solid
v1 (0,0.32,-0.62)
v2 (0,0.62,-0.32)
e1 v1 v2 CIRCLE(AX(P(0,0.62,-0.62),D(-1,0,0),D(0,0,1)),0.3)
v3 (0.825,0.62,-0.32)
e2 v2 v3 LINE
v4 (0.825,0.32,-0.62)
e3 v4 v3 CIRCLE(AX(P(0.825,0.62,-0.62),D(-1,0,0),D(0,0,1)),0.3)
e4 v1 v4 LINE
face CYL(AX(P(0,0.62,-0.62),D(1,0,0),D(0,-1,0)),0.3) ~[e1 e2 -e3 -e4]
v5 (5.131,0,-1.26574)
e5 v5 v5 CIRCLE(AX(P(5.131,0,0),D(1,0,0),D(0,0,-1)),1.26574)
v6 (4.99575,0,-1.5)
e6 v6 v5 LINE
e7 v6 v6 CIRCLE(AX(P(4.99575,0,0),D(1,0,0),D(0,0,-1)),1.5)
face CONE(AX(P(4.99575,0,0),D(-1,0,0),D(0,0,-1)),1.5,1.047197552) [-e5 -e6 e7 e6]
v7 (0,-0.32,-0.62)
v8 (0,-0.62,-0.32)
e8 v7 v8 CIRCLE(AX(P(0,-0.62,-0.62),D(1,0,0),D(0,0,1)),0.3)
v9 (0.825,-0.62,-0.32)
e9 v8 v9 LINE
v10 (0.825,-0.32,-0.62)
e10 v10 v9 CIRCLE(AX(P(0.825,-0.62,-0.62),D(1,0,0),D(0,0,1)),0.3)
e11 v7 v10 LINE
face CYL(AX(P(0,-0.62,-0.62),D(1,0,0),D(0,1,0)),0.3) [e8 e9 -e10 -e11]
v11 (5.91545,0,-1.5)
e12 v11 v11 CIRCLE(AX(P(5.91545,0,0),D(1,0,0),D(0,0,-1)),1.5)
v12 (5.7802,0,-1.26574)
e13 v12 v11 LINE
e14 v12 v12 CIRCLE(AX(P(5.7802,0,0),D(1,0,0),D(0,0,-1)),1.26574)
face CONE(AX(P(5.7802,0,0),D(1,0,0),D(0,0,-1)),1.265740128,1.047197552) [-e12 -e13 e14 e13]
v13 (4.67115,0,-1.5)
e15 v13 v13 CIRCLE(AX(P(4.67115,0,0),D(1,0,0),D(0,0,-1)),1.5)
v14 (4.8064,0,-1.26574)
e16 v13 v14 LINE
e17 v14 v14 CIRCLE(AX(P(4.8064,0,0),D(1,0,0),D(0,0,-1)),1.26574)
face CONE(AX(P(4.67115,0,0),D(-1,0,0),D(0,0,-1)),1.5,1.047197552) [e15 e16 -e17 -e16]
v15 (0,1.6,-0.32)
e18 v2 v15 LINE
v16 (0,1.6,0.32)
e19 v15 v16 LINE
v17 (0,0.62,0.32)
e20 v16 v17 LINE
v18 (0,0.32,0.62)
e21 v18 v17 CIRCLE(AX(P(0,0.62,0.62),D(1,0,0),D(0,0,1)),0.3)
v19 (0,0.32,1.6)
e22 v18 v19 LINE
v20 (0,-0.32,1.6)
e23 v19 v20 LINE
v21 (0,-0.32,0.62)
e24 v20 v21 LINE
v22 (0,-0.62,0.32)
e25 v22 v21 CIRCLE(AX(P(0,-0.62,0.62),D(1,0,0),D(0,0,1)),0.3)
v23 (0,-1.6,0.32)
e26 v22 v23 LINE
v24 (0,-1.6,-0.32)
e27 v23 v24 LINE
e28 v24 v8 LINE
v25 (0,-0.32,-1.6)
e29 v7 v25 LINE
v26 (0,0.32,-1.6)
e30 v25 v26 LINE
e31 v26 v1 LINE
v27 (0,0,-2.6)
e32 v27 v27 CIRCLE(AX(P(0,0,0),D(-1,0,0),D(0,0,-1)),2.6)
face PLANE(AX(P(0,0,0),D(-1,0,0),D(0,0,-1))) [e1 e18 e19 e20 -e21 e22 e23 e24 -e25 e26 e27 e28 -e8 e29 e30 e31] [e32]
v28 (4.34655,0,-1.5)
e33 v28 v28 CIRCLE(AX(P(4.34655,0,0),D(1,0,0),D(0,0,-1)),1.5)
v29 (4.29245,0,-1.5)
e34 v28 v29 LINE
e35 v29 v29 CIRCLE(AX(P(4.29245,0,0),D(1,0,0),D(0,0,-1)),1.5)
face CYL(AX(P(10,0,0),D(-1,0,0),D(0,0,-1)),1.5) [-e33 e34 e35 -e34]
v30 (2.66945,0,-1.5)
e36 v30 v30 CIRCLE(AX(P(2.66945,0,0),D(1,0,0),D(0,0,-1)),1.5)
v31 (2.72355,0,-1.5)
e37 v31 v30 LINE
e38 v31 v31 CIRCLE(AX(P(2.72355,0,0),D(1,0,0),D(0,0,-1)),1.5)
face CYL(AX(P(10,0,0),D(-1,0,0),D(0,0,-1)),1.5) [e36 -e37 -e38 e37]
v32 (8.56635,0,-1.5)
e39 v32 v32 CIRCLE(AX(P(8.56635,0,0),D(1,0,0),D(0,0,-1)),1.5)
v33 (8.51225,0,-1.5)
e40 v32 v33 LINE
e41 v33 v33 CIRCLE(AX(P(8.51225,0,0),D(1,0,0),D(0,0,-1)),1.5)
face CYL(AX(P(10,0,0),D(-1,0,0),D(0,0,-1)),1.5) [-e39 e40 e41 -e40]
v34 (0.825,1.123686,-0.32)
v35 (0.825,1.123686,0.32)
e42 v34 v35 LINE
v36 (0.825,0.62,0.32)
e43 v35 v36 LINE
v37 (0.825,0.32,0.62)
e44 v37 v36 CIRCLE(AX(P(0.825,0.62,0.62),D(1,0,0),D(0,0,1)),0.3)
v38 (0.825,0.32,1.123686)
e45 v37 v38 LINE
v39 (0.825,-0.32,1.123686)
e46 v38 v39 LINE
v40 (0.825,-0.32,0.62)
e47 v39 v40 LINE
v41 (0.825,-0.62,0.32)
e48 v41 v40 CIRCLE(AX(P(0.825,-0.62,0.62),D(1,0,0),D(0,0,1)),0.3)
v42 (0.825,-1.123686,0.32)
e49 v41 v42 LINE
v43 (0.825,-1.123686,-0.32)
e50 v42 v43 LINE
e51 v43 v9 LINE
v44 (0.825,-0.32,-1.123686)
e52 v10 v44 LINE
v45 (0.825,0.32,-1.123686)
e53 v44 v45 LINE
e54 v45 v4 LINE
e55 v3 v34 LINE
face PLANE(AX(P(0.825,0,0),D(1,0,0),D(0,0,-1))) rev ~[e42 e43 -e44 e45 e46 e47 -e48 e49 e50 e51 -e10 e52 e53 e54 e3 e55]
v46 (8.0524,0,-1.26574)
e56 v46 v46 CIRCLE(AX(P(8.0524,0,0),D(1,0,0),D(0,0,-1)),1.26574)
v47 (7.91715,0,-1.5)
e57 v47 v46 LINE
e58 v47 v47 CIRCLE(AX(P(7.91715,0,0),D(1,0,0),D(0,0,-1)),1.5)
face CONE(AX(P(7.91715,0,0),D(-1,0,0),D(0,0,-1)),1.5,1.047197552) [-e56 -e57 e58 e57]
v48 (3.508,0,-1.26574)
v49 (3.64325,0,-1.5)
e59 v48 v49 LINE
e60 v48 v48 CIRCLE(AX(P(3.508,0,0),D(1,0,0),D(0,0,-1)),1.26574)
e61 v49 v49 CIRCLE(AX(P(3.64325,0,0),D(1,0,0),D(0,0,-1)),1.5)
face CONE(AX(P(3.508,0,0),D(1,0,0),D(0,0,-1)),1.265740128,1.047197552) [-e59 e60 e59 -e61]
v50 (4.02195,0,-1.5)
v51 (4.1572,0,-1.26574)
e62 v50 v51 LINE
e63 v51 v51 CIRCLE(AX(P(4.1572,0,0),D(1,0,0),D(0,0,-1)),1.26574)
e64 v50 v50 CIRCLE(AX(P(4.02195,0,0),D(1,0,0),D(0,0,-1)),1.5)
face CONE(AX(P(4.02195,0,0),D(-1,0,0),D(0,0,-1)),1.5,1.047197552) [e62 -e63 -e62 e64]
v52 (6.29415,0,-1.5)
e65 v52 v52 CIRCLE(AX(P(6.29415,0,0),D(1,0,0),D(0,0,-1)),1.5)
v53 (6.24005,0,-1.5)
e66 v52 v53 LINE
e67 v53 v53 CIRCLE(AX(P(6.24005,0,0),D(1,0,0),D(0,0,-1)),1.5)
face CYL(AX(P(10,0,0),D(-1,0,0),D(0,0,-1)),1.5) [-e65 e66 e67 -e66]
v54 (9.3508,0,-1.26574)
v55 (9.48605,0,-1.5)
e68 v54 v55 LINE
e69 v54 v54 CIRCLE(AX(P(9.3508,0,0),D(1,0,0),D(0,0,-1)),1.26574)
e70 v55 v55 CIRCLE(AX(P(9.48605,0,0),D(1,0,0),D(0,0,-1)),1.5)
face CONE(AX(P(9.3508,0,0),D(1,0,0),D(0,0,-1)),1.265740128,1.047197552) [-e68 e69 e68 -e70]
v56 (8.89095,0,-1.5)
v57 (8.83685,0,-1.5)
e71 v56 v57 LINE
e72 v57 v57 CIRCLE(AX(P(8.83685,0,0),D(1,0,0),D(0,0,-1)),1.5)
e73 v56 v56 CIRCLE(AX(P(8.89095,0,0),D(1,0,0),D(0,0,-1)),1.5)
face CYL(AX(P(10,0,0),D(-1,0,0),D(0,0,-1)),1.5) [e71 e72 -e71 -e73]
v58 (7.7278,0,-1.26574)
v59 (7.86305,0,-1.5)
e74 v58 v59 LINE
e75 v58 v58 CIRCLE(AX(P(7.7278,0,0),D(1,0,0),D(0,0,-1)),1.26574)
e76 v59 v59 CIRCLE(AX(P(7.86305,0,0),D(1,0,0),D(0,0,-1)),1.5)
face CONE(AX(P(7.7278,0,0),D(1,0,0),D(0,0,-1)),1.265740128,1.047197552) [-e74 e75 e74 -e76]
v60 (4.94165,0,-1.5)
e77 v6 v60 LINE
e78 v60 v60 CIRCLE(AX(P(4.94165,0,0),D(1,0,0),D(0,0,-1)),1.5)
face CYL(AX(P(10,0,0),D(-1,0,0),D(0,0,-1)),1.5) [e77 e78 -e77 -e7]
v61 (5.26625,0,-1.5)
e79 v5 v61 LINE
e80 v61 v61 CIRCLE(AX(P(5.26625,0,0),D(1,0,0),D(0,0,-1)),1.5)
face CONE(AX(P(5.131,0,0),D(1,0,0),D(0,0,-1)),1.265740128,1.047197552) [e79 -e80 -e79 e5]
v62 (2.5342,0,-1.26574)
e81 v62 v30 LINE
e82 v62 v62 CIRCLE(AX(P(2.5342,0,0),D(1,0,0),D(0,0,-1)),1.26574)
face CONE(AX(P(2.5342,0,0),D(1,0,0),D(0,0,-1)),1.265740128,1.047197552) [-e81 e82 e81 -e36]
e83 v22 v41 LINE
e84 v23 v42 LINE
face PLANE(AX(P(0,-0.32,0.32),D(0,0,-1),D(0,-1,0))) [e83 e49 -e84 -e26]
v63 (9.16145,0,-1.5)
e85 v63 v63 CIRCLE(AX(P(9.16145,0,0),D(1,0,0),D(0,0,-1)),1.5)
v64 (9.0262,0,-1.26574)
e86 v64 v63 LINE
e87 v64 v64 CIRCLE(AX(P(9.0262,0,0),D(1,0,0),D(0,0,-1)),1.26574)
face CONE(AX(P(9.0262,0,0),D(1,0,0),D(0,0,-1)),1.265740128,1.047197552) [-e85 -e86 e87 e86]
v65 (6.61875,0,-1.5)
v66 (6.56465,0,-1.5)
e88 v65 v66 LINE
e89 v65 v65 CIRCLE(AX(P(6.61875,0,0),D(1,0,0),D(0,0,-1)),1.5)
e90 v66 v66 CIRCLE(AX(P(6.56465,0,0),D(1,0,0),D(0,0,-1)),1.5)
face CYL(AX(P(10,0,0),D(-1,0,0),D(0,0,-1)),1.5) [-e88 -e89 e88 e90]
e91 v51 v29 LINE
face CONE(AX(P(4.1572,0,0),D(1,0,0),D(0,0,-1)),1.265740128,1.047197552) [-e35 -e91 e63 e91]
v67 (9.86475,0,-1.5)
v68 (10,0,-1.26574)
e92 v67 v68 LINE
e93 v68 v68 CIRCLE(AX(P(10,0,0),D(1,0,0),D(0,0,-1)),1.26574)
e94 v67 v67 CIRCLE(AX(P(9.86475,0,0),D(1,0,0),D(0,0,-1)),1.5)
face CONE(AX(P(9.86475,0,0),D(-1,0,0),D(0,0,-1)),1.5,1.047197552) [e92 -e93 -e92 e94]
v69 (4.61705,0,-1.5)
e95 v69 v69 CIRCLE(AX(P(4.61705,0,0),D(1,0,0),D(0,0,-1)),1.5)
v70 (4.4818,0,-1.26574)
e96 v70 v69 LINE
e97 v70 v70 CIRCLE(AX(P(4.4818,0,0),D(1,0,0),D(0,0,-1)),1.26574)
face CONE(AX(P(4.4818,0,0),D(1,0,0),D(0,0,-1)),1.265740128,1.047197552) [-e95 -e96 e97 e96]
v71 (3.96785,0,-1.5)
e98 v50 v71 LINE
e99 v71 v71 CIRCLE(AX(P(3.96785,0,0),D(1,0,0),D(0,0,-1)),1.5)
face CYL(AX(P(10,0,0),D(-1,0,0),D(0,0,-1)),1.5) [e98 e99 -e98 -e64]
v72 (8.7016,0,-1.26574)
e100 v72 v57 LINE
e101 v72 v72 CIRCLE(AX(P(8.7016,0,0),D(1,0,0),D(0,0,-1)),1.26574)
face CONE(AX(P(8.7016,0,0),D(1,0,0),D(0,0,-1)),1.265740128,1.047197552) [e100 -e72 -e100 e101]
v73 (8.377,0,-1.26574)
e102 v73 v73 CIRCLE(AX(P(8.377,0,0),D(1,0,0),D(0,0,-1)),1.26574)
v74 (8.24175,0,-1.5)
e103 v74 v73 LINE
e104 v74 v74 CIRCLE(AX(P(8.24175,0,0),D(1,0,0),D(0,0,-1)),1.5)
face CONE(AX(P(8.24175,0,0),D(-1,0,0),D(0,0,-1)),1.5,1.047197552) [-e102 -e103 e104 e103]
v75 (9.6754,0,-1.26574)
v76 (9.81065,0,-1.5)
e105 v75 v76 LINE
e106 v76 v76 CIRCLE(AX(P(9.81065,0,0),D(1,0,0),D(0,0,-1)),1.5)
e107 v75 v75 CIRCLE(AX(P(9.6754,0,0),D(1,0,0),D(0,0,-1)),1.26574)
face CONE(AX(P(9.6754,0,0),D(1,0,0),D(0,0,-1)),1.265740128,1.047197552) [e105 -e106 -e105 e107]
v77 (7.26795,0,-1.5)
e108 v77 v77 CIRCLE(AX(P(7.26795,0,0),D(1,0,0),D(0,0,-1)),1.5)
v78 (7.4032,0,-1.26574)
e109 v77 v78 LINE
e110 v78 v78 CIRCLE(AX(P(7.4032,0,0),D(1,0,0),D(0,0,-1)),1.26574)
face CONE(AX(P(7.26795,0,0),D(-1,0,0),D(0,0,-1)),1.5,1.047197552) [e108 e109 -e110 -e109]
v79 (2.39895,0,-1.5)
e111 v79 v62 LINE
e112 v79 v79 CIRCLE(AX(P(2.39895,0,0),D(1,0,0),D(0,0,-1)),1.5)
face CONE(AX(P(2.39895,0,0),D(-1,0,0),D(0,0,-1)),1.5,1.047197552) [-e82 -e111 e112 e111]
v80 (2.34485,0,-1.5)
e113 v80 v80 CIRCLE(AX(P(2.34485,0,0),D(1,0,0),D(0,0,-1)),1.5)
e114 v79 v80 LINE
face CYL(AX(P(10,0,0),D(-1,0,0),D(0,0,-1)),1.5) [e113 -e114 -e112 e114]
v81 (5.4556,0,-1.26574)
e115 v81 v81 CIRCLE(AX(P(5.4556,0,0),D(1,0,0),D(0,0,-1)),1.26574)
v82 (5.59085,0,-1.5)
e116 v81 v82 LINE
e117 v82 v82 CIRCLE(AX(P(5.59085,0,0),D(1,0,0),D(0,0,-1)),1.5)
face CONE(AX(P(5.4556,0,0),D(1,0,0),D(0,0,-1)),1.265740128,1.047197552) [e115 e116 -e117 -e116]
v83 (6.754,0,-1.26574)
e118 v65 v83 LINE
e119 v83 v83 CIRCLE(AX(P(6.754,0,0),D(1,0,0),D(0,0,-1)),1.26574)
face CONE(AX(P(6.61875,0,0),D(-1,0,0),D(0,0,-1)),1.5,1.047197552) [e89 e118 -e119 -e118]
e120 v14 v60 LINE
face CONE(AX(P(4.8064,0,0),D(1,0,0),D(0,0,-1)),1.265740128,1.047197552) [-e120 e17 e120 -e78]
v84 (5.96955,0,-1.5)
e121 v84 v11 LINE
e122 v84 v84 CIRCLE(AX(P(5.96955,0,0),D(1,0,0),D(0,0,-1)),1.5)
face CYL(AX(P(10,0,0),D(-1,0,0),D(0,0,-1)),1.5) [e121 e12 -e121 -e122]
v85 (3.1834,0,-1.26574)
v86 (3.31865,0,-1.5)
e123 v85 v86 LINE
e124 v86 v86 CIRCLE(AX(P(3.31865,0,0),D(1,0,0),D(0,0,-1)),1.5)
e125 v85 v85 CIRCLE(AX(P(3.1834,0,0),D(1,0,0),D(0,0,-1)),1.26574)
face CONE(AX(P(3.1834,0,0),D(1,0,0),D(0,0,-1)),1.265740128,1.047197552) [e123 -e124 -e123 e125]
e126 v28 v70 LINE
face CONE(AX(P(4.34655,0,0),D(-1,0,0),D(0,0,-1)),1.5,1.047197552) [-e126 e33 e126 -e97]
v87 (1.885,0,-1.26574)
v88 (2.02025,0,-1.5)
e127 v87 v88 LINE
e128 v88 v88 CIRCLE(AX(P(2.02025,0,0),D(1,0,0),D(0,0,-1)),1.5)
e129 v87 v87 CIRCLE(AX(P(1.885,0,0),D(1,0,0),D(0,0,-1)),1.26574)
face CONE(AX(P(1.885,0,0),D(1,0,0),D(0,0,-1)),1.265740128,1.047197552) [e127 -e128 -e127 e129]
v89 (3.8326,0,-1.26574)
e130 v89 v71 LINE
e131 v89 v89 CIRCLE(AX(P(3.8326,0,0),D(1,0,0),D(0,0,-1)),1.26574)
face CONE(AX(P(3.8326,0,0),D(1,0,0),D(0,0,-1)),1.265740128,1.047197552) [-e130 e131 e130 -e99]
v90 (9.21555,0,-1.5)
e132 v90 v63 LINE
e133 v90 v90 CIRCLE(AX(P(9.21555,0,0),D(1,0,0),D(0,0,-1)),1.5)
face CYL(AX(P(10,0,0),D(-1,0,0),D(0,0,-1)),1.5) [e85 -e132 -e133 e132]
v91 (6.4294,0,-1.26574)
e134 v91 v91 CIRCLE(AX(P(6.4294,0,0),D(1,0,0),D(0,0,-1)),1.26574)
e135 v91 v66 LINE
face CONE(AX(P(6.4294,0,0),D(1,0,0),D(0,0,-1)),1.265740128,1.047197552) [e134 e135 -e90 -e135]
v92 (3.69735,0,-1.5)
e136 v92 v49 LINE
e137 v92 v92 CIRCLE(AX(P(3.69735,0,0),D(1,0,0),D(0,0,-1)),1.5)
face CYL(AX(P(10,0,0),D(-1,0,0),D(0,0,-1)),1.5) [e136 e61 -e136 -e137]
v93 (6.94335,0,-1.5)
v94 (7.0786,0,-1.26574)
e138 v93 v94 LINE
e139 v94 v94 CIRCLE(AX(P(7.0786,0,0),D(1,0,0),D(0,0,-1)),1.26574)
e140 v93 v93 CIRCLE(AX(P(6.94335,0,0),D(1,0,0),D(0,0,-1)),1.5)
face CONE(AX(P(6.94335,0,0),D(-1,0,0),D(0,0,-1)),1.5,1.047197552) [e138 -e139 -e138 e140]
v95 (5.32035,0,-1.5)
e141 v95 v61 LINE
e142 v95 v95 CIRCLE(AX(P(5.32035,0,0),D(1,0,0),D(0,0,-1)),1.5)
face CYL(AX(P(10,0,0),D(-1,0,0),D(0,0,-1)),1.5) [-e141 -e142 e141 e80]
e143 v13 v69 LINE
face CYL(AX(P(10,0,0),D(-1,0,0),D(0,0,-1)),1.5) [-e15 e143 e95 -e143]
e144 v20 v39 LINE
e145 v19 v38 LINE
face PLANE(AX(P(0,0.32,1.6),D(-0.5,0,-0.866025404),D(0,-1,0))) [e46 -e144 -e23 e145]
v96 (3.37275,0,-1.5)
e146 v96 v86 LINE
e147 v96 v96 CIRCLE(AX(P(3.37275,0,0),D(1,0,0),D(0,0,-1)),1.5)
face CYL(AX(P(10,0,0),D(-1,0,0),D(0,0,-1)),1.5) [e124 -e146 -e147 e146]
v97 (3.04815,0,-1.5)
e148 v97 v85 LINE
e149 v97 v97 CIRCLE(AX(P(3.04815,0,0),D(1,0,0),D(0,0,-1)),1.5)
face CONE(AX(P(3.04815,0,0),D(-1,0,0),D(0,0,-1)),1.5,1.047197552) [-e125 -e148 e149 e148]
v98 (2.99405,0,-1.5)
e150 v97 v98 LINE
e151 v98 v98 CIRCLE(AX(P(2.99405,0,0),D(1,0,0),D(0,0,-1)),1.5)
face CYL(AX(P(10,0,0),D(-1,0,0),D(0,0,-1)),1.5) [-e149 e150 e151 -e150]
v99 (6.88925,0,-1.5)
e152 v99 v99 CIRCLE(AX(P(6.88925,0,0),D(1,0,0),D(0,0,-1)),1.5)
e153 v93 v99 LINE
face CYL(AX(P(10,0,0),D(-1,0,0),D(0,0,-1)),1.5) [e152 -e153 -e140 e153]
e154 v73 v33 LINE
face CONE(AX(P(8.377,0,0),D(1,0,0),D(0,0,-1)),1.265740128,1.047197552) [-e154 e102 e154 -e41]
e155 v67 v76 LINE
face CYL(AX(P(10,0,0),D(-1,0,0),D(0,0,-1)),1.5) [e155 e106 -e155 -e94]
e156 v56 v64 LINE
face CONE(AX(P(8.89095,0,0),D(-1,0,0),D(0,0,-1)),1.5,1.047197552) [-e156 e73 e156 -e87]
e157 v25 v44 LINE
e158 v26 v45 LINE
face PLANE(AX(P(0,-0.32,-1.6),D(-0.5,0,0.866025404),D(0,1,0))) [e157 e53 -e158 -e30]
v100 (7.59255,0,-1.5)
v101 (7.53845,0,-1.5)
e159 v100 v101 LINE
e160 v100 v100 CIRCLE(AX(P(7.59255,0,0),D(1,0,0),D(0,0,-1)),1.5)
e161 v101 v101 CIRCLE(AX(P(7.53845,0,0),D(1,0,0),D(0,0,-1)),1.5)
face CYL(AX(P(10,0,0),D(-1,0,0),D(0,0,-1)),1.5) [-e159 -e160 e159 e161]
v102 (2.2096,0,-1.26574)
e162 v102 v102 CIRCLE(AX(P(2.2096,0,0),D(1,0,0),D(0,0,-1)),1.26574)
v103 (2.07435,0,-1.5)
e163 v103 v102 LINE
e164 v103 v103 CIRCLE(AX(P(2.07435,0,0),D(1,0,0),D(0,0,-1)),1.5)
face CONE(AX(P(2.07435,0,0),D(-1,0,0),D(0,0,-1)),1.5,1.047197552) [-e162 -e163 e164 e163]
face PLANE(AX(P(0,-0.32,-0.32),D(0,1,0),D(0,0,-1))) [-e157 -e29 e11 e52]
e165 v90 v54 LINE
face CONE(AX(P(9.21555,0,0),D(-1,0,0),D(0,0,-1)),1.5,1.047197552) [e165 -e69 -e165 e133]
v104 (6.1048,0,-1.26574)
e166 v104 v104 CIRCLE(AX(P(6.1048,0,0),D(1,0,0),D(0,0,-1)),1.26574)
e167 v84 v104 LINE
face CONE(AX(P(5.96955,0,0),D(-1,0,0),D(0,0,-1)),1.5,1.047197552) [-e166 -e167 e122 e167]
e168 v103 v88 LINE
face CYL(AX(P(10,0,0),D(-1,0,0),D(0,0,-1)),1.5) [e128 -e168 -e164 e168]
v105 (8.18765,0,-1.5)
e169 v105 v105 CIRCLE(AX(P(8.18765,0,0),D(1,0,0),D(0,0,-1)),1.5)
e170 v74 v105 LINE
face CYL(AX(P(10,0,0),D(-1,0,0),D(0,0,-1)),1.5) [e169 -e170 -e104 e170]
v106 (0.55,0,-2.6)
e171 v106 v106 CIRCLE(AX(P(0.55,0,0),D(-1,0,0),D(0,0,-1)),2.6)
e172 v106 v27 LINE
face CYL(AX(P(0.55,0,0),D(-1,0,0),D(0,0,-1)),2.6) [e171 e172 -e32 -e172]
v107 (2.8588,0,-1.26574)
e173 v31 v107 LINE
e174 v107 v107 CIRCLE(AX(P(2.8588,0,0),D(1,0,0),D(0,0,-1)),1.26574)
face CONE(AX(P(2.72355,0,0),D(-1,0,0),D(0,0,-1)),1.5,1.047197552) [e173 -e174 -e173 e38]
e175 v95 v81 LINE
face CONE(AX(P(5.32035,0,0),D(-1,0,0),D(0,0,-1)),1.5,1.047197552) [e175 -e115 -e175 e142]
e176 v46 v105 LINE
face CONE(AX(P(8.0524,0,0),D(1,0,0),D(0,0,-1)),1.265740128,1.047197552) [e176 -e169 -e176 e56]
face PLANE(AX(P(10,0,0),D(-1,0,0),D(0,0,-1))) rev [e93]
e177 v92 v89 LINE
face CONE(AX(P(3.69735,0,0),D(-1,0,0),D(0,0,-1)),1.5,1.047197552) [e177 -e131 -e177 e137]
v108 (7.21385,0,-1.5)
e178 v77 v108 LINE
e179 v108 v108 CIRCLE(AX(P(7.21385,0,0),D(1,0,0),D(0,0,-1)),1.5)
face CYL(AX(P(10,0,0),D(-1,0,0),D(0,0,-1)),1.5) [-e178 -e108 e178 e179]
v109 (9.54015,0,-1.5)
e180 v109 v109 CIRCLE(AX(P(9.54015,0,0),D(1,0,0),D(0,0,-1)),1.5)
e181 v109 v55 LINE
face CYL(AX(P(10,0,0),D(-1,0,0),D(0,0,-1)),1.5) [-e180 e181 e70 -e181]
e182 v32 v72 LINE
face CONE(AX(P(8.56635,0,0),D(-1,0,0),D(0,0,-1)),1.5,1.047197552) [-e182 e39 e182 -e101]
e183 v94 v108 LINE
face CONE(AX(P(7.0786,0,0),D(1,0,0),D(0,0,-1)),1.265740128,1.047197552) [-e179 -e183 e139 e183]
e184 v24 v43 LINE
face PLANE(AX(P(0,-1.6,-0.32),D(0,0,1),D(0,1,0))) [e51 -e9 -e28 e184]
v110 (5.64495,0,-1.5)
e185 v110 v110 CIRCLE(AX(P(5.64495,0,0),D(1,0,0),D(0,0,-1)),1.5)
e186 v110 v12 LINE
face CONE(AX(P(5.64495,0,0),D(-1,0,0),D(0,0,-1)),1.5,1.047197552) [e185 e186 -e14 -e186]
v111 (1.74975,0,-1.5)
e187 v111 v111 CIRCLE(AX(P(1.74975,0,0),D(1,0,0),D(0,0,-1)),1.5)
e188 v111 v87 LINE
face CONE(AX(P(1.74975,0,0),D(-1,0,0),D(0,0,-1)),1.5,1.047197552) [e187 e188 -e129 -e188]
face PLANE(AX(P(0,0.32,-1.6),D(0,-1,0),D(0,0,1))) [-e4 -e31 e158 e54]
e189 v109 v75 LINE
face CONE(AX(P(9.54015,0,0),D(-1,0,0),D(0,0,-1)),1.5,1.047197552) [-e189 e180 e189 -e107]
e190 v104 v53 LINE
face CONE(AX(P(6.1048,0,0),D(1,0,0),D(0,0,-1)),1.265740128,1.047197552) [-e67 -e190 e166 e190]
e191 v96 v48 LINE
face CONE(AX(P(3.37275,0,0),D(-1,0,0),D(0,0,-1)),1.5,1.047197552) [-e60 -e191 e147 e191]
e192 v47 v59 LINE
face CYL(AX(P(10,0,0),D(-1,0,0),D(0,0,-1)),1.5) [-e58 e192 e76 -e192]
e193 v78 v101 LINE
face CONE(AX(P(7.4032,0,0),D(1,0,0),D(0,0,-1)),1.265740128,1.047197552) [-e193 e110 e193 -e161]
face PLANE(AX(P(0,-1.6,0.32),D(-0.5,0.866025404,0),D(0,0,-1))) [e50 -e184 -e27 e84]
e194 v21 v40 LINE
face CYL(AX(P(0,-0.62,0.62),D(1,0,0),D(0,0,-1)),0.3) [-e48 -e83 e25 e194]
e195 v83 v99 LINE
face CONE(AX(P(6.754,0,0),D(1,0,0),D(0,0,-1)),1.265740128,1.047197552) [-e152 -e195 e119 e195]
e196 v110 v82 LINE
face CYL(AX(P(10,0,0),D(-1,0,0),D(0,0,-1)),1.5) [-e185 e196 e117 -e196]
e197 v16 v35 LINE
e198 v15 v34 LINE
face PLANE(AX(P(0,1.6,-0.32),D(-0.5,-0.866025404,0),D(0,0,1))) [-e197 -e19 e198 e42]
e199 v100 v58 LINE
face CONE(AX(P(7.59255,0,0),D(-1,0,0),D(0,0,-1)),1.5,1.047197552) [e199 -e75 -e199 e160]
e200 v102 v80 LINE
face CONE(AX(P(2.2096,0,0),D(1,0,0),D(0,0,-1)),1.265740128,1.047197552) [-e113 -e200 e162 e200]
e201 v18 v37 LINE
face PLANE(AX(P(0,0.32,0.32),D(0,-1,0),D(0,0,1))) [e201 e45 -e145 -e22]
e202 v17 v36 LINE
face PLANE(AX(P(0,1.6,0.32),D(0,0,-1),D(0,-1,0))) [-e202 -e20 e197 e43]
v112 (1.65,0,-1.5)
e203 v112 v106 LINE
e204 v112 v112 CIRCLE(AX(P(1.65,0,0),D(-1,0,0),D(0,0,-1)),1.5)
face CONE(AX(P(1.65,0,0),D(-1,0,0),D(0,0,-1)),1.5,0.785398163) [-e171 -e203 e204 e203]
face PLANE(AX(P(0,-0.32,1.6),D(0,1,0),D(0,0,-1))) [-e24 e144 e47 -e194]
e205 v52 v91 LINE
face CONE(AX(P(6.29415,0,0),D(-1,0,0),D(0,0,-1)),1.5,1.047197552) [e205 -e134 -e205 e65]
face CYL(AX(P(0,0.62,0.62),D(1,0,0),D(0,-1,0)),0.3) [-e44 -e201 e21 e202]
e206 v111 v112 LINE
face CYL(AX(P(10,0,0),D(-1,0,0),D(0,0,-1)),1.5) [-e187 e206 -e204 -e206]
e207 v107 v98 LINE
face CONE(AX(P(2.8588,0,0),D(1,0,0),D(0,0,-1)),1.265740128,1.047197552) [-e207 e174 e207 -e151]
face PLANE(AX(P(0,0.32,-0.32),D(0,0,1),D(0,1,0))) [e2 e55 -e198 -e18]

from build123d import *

# Parameters (mm, degrees)
CROSSRECESS_DEPTH = 0.825
DRAFT9_ANGLE      = 30
FILLET5_R         = 0.3
LPATTERN10_COUNT  = 26
LPATTERN10_PITCH  = 0.3246


with BuildPart() as part:
    # Sketch1 → Base (revolve)
    with BuildSketch(Plane.XY, mode=Mode.PRIVATE) as base_sk:
        Polygon((10, 1.5), (2.65, 1.5), (1.65, 1.5), (0.55, 2.6), (0, 2.6), (0, 0), (10, 0), align=None)
    revolve(base_sk.sketch.rotate(Axis((4.515812911, 0, 0), (-1, 0, 0)), 90), axis=Axis((4.515812911, 0, 0), (-1, 0, 0)))

    # Sketch6 → CrossRecess (cut)
    with BuildSketch(Plane(origin=(0, 0, 0), x_dir=(0, 0, -1), z_dir=(1, 0, 0))):
        Polygon((0.32, 0.32), (0.32, 1.6), (-0.32, 1.6), (-0.32, 0.32), (-1.6, 0.32), (-1.6, -0.32), (-0.32, -0.32), (-0.32, -1.6), (0.32, -1.6), (0.32, -0.32), (1.6, -0.32), (1.6, 0.32), align=None)
    extrude(amount=CROSSRECESS_DEPTH, mode=Mode.SUBTRACT)

    # Draft9
    draft9_faces = [part.faces().sort_by_distance(p)[0] for p in [
        (0.4125, 1.6, 0),
        (0.4125, 0, 1.6),
        (0.4125, -1.6, 0),
        (0.4125, 0, -1.6),
    ]]
    draft(draft9_faces, Plane(origin=(0, 2.6, 0), x_dir=(0, 0, -1), z_dir=(-1, 0, 0)), DRAFT9_ANGLE)

    # Fillet5
    fillet5_edges = [part.edges().sort_by_distance(p)[0] for p in [
        (0.4125, 0.32, 0.32),
        (0.4125, -0.32, 0.32),
        (0.4125, -0.32, -0.32),
        (0.4125, 0.32, -0.32),
    ]]
    fillet(fillet5_edges, radius=FILLET5_R)

    # Sketch9 → Cut-Revolve10 (revolve, cut)
    with BuildSketch(Plane.XY, mode=Mode.PRIVATE) as cut_revolve10_sk:
        Polygon((10, 1.265740128), (10.13525, 1.5), (10.13525, 1.7705), (9.86475, 1.7705), (9.86475, 1.5), align=None)
    cut_revolve10 = revolve(cut_revolve10_sk.sketch.rotate(Axis((0, 0, 0), (1, 0, 0)), 270), axis=Axis((0, 0, 0), (1, 0, 0)), mode=Mode.SUBTRACT)

    # LPattern10: Cut-Revolve10 ×26
    with Locations(*[(-i * LPATTERN10_PITCH, 0, 0) for i in range(1, LPATTERN10_COUNT)]):
        add(cut_revolve10, mode=Mode.SUBTRACT)


solid = part.part
